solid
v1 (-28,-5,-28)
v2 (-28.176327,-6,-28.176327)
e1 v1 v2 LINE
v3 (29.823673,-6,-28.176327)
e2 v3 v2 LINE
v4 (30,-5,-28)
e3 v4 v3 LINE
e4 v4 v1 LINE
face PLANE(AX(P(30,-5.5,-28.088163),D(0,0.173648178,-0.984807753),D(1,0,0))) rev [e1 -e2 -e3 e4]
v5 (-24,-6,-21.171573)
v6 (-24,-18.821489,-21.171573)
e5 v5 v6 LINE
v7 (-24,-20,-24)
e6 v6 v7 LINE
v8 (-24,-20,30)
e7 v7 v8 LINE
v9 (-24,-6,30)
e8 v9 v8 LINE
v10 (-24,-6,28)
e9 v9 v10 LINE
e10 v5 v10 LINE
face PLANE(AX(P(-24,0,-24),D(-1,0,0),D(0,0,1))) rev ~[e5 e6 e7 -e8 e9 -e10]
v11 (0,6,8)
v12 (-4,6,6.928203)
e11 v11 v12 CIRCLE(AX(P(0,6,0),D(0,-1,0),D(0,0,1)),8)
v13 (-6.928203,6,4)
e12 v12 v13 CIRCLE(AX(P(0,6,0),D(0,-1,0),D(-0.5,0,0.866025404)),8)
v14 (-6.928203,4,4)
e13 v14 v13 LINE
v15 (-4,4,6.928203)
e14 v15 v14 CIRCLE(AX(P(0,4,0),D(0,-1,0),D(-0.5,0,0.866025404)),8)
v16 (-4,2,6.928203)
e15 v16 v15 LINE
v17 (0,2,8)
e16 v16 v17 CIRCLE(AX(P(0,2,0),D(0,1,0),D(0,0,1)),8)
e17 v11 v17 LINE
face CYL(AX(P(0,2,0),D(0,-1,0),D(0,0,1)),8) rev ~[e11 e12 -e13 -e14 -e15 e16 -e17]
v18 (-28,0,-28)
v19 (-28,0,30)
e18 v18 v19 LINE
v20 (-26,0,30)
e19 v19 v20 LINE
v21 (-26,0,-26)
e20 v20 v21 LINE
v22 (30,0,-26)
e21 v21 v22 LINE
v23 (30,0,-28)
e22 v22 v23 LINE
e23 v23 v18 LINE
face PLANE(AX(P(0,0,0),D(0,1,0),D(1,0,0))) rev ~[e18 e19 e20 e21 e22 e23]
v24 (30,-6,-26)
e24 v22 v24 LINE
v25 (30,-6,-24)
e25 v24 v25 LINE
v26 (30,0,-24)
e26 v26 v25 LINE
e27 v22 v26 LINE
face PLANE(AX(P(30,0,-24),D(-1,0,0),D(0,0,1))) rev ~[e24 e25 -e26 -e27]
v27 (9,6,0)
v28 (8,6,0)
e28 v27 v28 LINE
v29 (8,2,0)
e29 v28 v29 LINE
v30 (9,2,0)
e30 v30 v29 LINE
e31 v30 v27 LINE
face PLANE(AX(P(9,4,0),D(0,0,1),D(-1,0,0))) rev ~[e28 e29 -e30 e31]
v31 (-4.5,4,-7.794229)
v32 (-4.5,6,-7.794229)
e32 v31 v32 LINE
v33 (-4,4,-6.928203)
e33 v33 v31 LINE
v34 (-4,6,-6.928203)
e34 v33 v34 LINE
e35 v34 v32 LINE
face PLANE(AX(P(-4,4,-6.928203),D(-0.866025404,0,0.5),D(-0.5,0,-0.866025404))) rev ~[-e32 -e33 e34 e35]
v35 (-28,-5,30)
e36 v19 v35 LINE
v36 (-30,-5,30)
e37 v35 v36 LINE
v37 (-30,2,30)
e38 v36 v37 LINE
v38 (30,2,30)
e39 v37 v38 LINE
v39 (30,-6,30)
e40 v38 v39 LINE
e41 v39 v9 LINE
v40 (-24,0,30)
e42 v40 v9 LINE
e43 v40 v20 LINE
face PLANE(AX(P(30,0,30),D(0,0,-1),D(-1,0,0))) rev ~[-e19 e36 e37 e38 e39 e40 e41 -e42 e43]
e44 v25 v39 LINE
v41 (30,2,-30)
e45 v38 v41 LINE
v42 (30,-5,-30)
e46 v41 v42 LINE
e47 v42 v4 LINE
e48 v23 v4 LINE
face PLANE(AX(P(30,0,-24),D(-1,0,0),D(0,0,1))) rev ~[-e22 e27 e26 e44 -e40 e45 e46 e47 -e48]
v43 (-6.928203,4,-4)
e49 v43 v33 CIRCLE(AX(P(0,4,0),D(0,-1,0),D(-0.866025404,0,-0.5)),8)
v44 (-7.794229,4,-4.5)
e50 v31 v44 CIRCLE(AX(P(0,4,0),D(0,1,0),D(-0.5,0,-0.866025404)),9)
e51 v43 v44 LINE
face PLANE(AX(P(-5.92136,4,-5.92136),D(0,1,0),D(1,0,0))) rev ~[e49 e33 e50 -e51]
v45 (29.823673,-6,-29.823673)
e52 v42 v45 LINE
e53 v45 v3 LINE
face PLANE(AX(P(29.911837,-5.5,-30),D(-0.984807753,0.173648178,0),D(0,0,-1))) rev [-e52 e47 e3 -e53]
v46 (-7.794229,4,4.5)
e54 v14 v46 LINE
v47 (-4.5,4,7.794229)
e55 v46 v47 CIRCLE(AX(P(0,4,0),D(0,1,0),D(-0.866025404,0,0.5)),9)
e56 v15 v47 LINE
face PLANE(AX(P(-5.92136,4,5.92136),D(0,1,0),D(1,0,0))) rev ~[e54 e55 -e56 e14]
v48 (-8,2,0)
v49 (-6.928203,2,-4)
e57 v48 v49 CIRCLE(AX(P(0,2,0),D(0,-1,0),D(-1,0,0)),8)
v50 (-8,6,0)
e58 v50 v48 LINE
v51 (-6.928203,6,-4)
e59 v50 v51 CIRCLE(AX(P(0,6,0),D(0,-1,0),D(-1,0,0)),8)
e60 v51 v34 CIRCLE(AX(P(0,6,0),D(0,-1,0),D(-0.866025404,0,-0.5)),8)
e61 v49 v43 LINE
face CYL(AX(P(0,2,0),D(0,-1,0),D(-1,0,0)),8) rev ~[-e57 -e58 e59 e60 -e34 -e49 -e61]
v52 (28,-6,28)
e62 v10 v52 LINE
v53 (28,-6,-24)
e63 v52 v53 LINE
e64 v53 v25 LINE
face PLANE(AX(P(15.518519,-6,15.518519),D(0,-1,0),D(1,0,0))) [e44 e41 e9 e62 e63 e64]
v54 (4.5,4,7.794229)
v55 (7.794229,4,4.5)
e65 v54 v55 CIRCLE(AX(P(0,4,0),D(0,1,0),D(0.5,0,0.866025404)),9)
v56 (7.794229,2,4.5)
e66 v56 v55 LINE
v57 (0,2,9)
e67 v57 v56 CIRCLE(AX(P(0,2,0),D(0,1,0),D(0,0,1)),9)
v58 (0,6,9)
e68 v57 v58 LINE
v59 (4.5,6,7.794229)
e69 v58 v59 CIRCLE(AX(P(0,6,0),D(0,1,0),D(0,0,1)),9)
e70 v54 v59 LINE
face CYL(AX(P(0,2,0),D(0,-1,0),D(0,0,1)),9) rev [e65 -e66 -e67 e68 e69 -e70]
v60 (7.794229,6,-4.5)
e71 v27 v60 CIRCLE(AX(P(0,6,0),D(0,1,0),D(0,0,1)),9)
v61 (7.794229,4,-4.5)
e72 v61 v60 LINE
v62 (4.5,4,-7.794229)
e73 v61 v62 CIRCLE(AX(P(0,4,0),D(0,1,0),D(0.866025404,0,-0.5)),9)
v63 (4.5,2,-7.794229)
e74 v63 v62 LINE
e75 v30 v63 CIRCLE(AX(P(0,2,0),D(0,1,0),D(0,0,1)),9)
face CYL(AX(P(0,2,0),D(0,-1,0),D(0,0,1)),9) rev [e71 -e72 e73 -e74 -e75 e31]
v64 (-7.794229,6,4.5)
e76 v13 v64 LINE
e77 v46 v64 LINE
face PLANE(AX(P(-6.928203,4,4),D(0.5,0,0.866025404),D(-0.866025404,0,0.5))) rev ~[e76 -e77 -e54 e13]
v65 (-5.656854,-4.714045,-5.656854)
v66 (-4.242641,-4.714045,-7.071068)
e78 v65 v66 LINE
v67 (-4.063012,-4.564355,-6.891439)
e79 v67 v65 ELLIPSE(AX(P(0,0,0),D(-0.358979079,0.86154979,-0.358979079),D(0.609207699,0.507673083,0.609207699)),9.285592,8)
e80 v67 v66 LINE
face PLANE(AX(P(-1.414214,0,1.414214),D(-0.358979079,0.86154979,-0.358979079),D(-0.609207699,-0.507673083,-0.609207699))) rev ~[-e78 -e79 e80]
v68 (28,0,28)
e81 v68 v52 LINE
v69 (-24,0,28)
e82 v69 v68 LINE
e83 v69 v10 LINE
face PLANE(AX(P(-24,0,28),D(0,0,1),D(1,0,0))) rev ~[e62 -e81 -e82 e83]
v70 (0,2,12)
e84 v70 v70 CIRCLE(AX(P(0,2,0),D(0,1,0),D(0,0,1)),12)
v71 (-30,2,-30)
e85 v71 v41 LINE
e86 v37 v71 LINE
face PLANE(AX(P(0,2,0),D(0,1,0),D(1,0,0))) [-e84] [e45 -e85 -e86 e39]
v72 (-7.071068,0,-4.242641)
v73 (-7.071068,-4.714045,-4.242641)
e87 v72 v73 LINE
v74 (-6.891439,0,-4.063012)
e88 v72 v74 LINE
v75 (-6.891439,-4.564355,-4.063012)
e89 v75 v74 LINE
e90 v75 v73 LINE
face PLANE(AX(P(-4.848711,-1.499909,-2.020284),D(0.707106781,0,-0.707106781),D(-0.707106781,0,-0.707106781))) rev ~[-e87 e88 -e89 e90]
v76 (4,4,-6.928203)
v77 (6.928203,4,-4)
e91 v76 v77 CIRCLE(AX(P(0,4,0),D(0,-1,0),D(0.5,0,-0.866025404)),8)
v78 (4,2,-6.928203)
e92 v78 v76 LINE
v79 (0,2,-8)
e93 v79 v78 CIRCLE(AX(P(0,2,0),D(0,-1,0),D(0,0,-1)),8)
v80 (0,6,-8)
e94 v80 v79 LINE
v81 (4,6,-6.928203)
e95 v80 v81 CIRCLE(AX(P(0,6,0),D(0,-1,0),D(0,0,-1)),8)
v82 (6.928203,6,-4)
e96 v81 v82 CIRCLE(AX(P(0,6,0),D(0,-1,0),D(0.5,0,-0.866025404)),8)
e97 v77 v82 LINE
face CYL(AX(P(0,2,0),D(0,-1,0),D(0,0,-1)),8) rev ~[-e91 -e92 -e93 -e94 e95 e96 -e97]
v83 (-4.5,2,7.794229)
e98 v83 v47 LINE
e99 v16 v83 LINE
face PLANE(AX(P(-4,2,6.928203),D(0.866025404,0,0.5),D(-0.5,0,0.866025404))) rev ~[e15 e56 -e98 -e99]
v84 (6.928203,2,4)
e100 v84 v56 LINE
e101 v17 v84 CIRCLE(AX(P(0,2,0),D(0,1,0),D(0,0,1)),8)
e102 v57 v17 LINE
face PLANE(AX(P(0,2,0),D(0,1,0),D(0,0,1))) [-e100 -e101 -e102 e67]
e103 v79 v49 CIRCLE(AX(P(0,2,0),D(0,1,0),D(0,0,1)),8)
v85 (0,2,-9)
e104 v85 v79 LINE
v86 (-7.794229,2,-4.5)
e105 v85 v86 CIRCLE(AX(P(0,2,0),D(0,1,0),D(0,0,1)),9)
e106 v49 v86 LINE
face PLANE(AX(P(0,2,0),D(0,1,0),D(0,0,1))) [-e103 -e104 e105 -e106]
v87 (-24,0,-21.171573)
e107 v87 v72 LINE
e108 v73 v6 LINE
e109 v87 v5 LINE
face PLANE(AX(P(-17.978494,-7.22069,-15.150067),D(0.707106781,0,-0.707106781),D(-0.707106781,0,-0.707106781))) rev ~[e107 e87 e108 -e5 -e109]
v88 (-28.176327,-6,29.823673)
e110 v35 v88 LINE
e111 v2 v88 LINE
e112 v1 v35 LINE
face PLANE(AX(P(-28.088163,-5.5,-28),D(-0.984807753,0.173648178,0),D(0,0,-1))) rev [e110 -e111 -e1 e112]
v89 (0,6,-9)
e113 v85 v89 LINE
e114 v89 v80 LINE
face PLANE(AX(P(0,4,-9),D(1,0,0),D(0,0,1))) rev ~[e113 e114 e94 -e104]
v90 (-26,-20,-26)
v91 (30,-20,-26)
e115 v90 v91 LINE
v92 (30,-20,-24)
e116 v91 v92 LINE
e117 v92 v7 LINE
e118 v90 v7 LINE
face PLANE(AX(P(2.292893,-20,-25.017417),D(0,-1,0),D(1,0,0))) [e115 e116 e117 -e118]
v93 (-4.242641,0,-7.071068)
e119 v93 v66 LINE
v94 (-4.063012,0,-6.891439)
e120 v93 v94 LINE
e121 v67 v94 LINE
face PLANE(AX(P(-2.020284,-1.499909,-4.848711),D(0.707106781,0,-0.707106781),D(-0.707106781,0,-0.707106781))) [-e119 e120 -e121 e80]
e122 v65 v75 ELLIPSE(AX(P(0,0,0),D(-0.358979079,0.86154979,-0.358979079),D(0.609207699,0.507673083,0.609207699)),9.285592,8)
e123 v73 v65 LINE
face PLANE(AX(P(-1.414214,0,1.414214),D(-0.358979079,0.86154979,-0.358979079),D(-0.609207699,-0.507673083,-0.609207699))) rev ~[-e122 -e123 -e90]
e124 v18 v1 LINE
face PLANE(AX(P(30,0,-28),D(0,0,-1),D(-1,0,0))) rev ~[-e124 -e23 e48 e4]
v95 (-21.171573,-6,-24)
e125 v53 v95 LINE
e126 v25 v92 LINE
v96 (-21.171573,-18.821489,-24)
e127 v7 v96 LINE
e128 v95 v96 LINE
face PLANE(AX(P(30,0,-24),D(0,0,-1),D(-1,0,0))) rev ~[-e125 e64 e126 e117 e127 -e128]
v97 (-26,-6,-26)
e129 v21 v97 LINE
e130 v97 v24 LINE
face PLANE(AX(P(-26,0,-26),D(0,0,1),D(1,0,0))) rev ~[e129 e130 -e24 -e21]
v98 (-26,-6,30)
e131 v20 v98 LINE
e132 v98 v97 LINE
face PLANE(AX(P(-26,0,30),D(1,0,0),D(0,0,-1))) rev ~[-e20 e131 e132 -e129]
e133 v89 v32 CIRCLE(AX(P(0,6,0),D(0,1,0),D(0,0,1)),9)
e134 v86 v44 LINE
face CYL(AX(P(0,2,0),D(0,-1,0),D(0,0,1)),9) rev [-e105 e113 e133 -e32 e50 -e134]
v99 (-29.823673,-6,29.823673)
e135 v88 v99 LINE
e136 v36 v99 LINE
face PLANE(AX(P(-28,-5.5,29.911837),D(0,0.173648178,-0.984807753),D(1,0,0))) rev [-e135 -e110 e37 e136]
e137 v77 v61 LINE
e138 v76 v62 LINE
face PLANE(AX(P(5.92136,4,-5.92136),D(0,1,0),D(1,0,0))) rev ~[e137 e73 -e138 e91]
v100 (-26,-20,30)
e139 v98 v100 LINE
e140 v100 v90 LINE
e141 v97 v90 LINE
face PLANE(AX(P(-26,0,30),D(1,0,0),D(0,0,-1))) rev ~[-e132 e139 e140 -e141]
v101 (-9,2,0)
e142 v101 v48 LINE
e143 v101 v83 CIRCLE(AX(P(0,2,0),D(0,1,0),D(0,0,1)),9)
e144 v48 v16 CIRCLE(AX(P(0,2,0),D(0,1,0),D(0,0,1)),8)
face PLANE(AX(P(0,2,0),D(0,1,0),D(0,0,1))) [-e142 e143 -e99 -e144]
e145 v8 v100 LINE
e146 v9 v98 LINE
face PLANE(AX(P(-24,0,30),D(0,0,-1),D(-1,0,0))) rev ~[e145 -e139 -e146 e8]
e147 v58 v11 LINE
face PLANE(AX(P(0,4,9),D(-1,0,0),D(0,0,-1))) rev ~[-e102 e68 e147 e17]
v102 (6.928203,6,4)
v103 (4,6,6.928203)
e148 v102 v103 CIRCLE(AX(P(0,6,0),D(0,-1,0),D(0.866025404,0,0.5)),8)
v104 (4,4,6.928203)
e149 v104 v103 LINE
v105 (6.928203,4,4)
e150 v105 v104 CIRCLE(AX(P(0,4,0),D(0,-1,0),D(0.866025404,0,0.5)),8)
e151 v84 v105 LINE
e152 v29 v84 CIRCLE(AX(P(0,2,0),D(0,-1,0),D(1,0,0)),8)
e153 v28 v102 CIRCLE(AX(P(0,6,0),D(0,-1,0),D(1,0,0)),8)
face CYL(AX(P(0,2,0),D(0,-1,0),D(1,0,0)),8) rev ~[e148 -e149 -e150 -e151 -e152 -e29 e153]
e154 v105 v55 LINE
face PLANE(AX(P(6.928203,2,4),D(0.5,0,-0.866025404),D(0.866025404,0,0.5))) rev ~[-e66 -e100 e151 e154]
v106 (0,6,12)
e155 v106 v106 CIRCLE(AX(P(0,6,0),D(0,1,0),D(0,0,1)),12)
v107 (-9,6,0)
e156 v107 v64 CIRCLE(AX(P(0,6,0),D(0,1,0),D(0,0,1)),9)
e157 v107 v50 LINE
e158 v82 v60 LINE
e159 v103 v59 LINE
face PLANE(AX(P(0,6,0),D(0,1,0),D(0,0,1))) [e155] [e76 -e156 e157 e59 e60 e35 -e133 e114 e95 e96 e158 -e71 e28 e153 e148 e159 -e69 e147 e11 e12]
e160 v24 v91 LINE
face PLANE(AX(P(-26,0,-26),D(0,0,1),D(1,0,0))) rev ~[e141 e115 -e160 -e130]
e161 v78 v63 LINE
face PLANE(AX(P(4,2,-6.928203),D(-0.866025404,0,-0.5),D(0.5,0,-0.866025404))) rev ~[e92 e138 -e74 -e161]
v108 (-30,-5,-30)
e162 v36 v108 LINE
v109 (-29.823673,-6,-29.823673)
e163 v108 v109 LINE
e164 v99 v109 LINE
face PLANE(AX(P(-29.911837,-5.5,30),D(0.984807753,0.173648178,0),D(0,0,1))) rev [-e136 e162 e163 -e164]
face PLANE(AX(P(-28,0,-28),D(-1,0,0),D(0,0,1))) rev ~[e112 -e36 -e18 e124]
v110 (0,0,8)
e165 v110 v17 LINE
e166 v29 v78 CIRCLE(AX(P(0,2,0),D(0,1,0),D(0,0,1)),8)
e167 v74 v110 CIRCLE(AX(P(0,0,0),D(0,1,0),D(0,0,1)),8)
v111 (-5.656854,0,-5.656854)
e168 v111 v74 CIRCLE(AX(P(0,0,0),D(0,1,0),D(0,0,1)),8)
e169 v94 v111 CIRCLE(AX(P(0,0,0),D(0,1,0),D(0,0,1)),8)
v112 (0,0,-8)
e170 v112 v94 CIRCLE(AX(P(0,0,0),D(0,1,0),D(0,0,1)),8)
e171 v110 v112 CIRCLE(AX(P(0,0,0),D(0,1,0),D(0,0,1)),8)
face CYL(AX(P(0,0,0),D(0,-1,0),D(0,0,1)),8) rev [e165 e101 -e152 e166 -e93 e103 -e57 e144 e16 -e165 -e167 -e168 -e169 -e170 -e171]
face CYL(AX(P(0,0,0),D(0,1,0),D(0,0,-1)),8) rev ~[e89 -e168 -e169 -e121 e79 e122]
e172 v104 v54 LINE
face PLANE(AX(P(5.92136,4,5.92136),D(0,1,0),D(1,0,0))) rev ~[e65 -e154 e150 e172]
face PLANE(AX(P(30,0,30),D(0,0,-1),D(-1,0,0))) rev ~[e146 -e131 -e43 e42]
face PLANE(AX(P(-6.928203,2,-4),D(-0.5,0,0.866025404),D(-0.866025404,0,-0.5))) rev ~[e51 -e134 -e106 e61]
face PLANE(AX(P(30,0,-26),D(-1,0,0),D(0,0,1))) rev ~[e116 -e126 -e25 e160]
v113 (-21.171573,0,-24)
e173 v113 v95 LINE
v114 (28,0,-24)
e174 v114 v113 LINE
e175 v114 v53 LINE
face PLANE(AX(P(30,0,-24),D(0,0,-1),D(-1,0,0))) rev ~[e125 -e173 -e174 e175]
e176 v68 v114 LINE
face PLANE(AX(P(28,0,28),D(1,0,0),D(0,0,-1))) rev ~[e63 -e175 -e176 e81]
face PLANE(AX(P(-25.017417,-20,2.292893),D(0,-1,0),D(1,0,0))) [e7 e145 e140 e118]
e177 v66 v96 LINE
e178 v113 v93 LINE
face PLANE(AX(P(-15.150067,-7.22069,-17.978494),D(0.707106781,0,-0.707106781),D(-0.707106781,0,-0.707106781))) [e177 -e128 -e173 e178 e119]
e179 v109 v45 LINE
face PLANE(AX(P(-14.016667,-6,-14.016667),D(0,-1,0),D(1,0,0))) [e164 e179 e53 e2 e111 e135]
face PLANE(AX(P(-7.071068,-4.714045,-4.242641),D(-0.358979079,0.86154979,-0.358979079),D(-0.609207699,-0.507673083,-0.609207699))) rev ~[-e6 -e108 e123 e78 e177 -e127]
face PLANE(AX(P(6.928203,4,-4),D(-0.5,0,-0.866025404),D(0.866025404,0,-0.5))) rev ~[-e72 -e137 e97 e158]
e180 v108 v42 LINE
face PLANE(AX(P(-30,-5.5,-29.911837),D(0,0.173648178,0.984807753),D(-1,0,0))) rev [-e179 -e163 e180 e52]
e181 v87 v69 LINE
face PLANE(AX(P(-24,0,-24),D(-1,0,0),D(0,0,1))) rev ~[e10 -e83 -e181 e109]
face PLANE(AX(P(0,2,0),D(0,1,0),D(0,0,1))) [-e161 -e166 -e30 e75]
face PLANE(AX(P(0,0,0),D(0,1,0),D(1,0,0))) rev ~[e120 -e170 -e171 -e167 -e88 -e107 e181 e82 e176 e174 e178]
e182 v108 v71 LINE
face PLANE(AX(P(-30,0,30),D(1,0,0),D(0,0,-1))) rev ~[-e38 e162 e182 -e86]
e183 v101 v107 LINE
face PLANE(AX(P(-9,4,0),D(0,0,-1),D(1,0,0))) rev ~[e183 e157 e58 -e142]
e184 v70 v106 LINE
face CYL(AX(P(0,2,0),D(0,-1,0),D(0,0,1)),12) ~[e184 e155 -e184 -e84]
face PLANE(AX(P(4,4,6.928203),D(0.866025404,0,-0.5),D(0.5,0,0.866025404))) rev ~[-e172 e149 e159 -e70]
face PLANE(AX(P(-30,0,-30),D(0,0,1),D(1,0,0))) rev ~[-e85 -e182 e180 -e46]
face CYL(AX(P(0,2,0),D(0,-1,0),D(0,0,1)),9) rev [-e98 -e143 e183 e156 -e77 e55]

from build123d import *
from OCP.BRepFilletAPI import BRepFilletAPI_MakeChamfer
from build123d.topology import SkipClean

# Parameters (mm, degrees)
SKETCH1_R                 = 12
SKETCH1_R_2               = 8
BOSS_EXTRUDE4_DEPTH       = 2
BOSS_EXTRUDE5_START       = 2
SKETCH1_9_R               = 12
SKETCH1_9_R_2             = 9
BOSS_EXTRUDE5_DEPTH       = 4
BOSS_EXTRUDE6_START       = 2
BOSS_EXTRUDE6_DEPTH       = 2
BOSS_EXTRUDE7_START       = 4
BOSS_EXTRUDE7_DEPTH       = 2
SKETCH1_12_W              = 60
SKETCH1_12_H              = 60
SKETCH1_12_R              = 12
SKETCH1_12_R_2            = 9
SKETCH1_12_R_3            = 8
BOSS_EXTRUDE8_DEPTH       = 2
BOSS_EXTRUDE9_DEPTH       = 6
CHAMFER1_SIZE             = 1
CHAMFER1_SIZE2            = 0.176326981
BOSS_EXTRUDE10_DEPTH      = 6
BOSS_EXTRUDE11_DEPTH      = 20
BOSS_EXTRUDE12_DEPTH      = 2
BOSS_EXTRUDE12_DEPTH_BACK = 2
SKETCH1_14_R              = 8
CUT_EXTRUDE1_DEPTH        = 47.904157598


with BuildPart() as part:
    # Sketch1 → Boss-Extrude4 (new body)
    with BuildSketch(Plane(origin=(0, 0, 0), x_dir=(1, 0, 0), z_dir=(0, 1, 0))):
        with Locations(Location((0, 0, 0), (0, 0, 270))):
            Circle(SKETCH1_R)
        with Locations(Location((0, 0, 0), (0, 0, 270))):
            Circle(SKETCH1_R_2, mode=Mode.SUBTRACT)
    extrude(amount=BOSS_EXTRUDE4_DEPTH)

    # Sketch1<9> → Boss-Extrude5 (add)
    with BuildSketch(Plane(origin=(0, 0, 0), x_dir=(1, 0, 0), z_dir=(0, 1, 0)).offset(BOSS_EXTRUDE5_START)):
        with Locations(Location((0, 0, 0), (0, 0, 270))):
            Circle(SKETCH1_9_R)
        with Locations(Location((0, 0, 0), (0, 0, 270))):
            Circle(SKETCH1_9_R_2, mode=Mode.SUBTRACT)
    extrude(amount=BOSS_EXTRUDE5_DEPTH)

    # Sketch1<10> → Boss-Extrude6 (add)
    with SkipClean():  # the faces are left unmerged after this step: merging them gives an invalid solid
        with BuildSketch(Plane(origin=(0, 0, 0), x_dir=(1, 0, 0), z_dir=(0, 1, 0)).offset(BOSS_EXTRUDE6_START)):
            with BuildLine():
                ThreePointArc((0, 8), (2.070552361, 7.72740661), (4, 6.92820323))
                Line((4, 6.92820323), (4.5, 7.794228634))
                ThreePointArc((4.5, 7.794228634), (2.329371406, 8.693332437), (0, 9))
                Line((0, 9), (0, 8))
            make_face()
            with BuildLine():
                ThreePointArc((-8, 0), (-7.72740661, 2.070552361), (-6.92820323, 4))
                Line((-6.92820323, 4), (-7.794228634, 4.5))
                ThreePointArc((-7.794228634, 4.5), (-8.693332437, 2.329371406), (-9, 0))
                Line((-9, 0), (-8, 0))
            make_face()
            with BuildLine():
                Line((0, -9), (0, -8))
                ThreePointArc((0, -8), (-2.070552361, -7.72740661), (-4, -6.92820323))
                Line((-4, -6.92820323), (-4.5, -7.794228634))
                ThreePointArc((-4.5, -7.794228634), (-2.329371406, -8.693332437), (0, -9))
            make_face()
            with BuildLine():
                Line((9, 0), (8, 0))
                ThreePointArc((8, 0), (7.72740661, -2.070552361), (6.92820323, -4))
                Line((6.92820323, -4), (7.794228634, -4.5))
                ThreePointArc((7.794228634, -4.5), (8.693332437, -2.329371406), (9, 0))
            make_face()
        extrude(amount=BOSS_EXTRUDE6_DEPTH)

    # Sketch1<11> → Boss-Extrude7 (add)
    with SkipClean():  # the faces are left unmerged after this step: merging them gives an invalid solid
        with BuildSketch(Plane(origin=(0, 0, 0), x_dir=(1, 0, 0), z_dir=(0, 1, 0)).offset(BOSS_EXTRUDE7_START)):
            with BuildLine():
                ThreePointArc((0, 8), (2.070552361, 7.72740661), (4, 6.92820323))
                Line((4, 6.92820323), (4.5, 7.794228634))
                ThreePointArc((4.5, 7.794228634), (2.329371406, 8.693332437), (0, 9))
                Line((0, 9), (0, 8))
            make_face()
            with BuildLine():
                ThreePointArc((4, 6.92820323), (5.656854249, 5.656854249), (6.92820323, 4))
                Line((6.92820323, 4), (7.794228634, 4.5))
                ThreePointArc((7.794228634, 4.5), (6.363961031, 6.363961031), (4.5, 7.794228634))
                Line((4.5, 7.794228634), (4, 6.92820323))
            make_face()
            with BuildLine():
                ThreePointArc((-8, 0), (-7.72740661, 2.070552361), (-6.92820323, 4))
                Line((-6.92820323, 4), (-7.794228634, 4.5))
                ThreePointArc((-7.794228634, 4.5), (-8.693332437, 2.329371406), (-9, 0))
                Line((-9, 0), (-8, 0))
            make_face()
            with BuildLine():
                ThreePointArc((-6.92820323, 4), (-5.656854249, 5.656854249), (-4, 6.92820323))
                Line((-4, 6.92820323), (-4.5, 7.794228634))
                ThreePointArc((-4.5, 7.794228634), (-6.363961031, 6.363961031), (-7.794228634, 4.5))
                Line((-7.794228634, 4.5), (-6.92820323, 4))
            make_face()
            with BuildLine():
                Line((-4.5, -7.794228634), (-4, -6.92820323))
                ThreePointArc((-4, -6.92820323), (-5.656854249, -5.656854249), (-6.92820323, -4))
                Line((-6.92820323, -4), (-7.794228634, -4.5))
                ThreePointArc((-7.794228634, -4.5), (-6.363961031, -6.363961031), (-4.5, -7.794228634))
            make_face()
            with BuildLine():
                Line((0, -9), (0, -8))
                ThreePointArc((0, -8), (-2.070552361, -7.72740661), (-4, -6.92820323))
                Line((-4, -6.92820323), (-4.5, -7.794228634))
                ThreePointArc((-4.5, -7.794228634), (-2.329371406, -8.693332437), (0, -9))
            make_face()
            with BuildLine():
                Line((9, 0), (8, 0))
                ThreePointArc((8, 0), (7.72740661, -2.070552361), (6.92820323, -4))
                Line((6.92820323, -4), (7.794228634, -4.5))
                ThreePointArc((7.794228634, -4.5), (8.693332437, -2.329371406), (9, 0))
            make_face()
            with BuildLine():
                Line((7.794228634, -4.5), (6.92820323, -4))
                ThreePointArc((6.92820323, -4), (5.656854249, -5.656854249), (4, -6.92820323))
                Line((4, -6.92820323), (4.5, -7.794228634))
                ThreePointArc((4.5, -7.794228634), (6.363961031, -6.363961031), (7.794228634, -4.5))
            make_face()
        extrude(amount=BOSS_EXTRUDE7_DEPTH)

    # Sketch1<12> → Boss-Extrude8 (add)
    # profile 1 of 2: a face of its own
    with BuildSketch(Plane(origin=(0, 0, 0), x_dir=(1, 0, 0), z_dir=(0, 1, 0))):
        Rectangle(SKETCH1_12_W, SKETCH1_12_H)
        with Locations(Location((0, 0, 0), (0, 0, 270))):
            Circle(SKETCH1_12_R, mode=Mode.SUBTRACT)
    # profile 2 of 2: a face of its own
    with BuildSketch(Plane(origin=(0, 0, 0), x_dir=(1, 0, 0), z_dir=(0, 1, 0))):
        Circle(SKETCH1_12_R_2)
        with Locations(Location((0, 0, 0), (0, 0, 270))):
            Circle(SKETCH1_12_R_3, mode=Mode.SUBTRACT)
    extrude(amount=BOSS_EXTRUDE8_DEPTH)

    # Sketch3 → Boss-Extrude9 (add)
    with BuildSketch(Plane.XZ):
        Polygon((-30, -30), (30, -30), (30, -28), (-28, -28), (-28, 30), (-30, 30), align=None)
        Polygon((30, -26), (30, -24), (-24, -24), (-24, 30), (-26, 30), (-26, -26), align=None)
    extrude(amount=BOSS_EXTRUDE9_DEPTH)

    # Chamfer1: one chamfer whose edges measure the first distance from different faces: ONE call of the kernel's chamfer builder (chamfer() names one face for all edges)
    chamfer1_edges_1 = [part.edges().sort_by_distance(p)[0] for p in [
        (-28, -6, 1),
    ]]
    chamfer1_side_1 = [part.faces().sort_by_distance(p)[0] for p in [
        (-28, -3, 1),
    ]]
    chamfer1_edges_2 = [part.edges().sort_by_distance(p)[0] for p in [
        (1, -6, -28),
    ]]
    chamfer1_side_2 = [part.faces().sort_by_distance(p)[0] for p in [
        (1, -3, -28),
    ]]
    chamfer1_edges_3 = [part.edges().sort_by_distance(p)[0] for p in [
        (-29, -6, 30),
    ]]
    chamfer1_side_3 = [part.faces().sort_by_distance(p)[0] for p in [
        (-4.5, 0.333333333, 30),
    ]]
    chamfer1_edges_4 = [part.edges().sort_by_distance(p)[0] for p in [
        (-30, -6, 0),
    ]]
    chamfer1_side_4 = [part.faces().sort_by_distance(p)[0] for p in [
        (-30, -2, 0),
    ]]
    chamfer1_edges_5 = [part.edges().sort_by_distance(p)[0] for p in [
        (0, -6, -30),
    ]]
    chamfer1_side_5 = [part.faces().sort_by_distance(p)[0] for p in [
        (0, -2, -30),
    ]]
    chamfer1_edges_6 = [part.edges().sort_by_distance(p)[0] for p in [
        (30, -6, -29),
    ]]
    chamfer1_side_6 = [part.faces().sort_by_distance(p)[0] for p in [
        (30, 0.333333333, -4.5),
    ]]
    chamfer1 = BRepFilletAPI_MakeChamfer(part.part.solid().wrapped)
    for e in chamfer1_edges_1:
        chamfer1.Add(CHAMFER1_SIZE, CHAMFER1_SIZE2, e.wrapped, chamfer1_side_1[0].wrapped)  # the first distance lies on this face
    for e in chamfer1_edges_2:
        chamfer1.Add(CHAMFER1_SIZE, CHAMFER1_SIZE2, e.wrapped, chamfer1_side_2[0].wrapped)  # the first distance lies on this face
    for e in chamfer1_edges_3:
        chamfer1.Add(CHAMFER1_SIZE, CHAMFER1_SIZE2, e.wrapped, chamfer1_side_3[0].wrapped)  # the first distance lies on this face
    for e in chamfer1_edges_4:
        chamfer1.Add(CHAMFER1_SIZE, CHAMFER1_SIZE2, e.wrapped, chamfer1_side_4[0].wrapped)  # the first distance lies on this face
    for e in chamfer1_edges_5:
        chamfer1.Add(CHAMFER1_SIZE, CHAMFER1_SIZE2, e.wrapped, chamfer1_side_5[0].wrapped)  # the first distance lies on this face
    for e in chamfer1_edges_6:
        chamfer1.Add(CHAMFER1_SIZE, CHAMFER1_SIZE2, e.wrapped, chamfer1_side_6[0].wrapped)  # the first distance lies on this face
    add(Compound.cast(chamfer1.Shape()), mode=Mode.REPLACE)

    # Sketch6 → Boss-Extrude10 (add)
    with BuildSketch(Plane.XZ):
        Polygon((-24, 30), (-24, 28), (28, 28), (28, -24), (30, -24), (30, 30), align=None)
    extrude(amount=BOSS_EXTRUDE10_DEPTH)

    # Sketch3<3> → Boss-Extrude11 (add)
    with SkipClean():  # the faces are left unmerged after this step: merging them gives an invalid solid
        with BuildSketch(Plane.XZ):
            Polygon((-26, 30), (-26, -26), (-24, -24), (-24, 30), align=None)
            Polygon((-26, -26), (30, -26), (30, -24), (-24, -24), align=None)
        extrude(amount=BOSS_EXTRUDE11_DEPTH)

    # Sketch9 → Boss-Extrude12 (add, two sides: drawn at the far end of the back side and taken through both)
    with SkipClean():  # the faces are left unmerged after this step: merging them gives an invalid solid
        with BuildSketch(Plane(origin=(0, 0, 0), x_dir=(-0.7071067811865472, 0, -0.7071067811865478), z_dir=(0.7071067811865478, 0, -0.7071067811865472)).offset(-BOSS_EXTRUDE12_DEPTH_BACK)):
            Polygon((33.941125497, -20), (33.941125497, 0), (8, 0), (8, -4.714045208), align=None)
            Polygon((8, -4.714045208), (8, 0), (0, 0), align=None)
        extrude(amount=BOSS_EXTRUDE12_DEPTH + BOSS_EXTRUDE12_DEPTH_BACK)

    # Sketch1<14> → Cut-Extrude1 (cut, through all)
    with SkipClean():  # the faces are left unmerged after this step: merging them gives an invalid solid
        with BuildSketch(Plane(origin=(0, 0, 0), x_dir=(1, 0, 0), z_dir=(0, 1, 0))):
            with Locations(Location((0, 0, 0), (0, 0, 90))):
                Circle(SKETCH1_14_R)
        extrude(amount=-CUT_EXTRUDE1_DEPTH, mode=Mode.SUBTRACT)


solid = part.part
